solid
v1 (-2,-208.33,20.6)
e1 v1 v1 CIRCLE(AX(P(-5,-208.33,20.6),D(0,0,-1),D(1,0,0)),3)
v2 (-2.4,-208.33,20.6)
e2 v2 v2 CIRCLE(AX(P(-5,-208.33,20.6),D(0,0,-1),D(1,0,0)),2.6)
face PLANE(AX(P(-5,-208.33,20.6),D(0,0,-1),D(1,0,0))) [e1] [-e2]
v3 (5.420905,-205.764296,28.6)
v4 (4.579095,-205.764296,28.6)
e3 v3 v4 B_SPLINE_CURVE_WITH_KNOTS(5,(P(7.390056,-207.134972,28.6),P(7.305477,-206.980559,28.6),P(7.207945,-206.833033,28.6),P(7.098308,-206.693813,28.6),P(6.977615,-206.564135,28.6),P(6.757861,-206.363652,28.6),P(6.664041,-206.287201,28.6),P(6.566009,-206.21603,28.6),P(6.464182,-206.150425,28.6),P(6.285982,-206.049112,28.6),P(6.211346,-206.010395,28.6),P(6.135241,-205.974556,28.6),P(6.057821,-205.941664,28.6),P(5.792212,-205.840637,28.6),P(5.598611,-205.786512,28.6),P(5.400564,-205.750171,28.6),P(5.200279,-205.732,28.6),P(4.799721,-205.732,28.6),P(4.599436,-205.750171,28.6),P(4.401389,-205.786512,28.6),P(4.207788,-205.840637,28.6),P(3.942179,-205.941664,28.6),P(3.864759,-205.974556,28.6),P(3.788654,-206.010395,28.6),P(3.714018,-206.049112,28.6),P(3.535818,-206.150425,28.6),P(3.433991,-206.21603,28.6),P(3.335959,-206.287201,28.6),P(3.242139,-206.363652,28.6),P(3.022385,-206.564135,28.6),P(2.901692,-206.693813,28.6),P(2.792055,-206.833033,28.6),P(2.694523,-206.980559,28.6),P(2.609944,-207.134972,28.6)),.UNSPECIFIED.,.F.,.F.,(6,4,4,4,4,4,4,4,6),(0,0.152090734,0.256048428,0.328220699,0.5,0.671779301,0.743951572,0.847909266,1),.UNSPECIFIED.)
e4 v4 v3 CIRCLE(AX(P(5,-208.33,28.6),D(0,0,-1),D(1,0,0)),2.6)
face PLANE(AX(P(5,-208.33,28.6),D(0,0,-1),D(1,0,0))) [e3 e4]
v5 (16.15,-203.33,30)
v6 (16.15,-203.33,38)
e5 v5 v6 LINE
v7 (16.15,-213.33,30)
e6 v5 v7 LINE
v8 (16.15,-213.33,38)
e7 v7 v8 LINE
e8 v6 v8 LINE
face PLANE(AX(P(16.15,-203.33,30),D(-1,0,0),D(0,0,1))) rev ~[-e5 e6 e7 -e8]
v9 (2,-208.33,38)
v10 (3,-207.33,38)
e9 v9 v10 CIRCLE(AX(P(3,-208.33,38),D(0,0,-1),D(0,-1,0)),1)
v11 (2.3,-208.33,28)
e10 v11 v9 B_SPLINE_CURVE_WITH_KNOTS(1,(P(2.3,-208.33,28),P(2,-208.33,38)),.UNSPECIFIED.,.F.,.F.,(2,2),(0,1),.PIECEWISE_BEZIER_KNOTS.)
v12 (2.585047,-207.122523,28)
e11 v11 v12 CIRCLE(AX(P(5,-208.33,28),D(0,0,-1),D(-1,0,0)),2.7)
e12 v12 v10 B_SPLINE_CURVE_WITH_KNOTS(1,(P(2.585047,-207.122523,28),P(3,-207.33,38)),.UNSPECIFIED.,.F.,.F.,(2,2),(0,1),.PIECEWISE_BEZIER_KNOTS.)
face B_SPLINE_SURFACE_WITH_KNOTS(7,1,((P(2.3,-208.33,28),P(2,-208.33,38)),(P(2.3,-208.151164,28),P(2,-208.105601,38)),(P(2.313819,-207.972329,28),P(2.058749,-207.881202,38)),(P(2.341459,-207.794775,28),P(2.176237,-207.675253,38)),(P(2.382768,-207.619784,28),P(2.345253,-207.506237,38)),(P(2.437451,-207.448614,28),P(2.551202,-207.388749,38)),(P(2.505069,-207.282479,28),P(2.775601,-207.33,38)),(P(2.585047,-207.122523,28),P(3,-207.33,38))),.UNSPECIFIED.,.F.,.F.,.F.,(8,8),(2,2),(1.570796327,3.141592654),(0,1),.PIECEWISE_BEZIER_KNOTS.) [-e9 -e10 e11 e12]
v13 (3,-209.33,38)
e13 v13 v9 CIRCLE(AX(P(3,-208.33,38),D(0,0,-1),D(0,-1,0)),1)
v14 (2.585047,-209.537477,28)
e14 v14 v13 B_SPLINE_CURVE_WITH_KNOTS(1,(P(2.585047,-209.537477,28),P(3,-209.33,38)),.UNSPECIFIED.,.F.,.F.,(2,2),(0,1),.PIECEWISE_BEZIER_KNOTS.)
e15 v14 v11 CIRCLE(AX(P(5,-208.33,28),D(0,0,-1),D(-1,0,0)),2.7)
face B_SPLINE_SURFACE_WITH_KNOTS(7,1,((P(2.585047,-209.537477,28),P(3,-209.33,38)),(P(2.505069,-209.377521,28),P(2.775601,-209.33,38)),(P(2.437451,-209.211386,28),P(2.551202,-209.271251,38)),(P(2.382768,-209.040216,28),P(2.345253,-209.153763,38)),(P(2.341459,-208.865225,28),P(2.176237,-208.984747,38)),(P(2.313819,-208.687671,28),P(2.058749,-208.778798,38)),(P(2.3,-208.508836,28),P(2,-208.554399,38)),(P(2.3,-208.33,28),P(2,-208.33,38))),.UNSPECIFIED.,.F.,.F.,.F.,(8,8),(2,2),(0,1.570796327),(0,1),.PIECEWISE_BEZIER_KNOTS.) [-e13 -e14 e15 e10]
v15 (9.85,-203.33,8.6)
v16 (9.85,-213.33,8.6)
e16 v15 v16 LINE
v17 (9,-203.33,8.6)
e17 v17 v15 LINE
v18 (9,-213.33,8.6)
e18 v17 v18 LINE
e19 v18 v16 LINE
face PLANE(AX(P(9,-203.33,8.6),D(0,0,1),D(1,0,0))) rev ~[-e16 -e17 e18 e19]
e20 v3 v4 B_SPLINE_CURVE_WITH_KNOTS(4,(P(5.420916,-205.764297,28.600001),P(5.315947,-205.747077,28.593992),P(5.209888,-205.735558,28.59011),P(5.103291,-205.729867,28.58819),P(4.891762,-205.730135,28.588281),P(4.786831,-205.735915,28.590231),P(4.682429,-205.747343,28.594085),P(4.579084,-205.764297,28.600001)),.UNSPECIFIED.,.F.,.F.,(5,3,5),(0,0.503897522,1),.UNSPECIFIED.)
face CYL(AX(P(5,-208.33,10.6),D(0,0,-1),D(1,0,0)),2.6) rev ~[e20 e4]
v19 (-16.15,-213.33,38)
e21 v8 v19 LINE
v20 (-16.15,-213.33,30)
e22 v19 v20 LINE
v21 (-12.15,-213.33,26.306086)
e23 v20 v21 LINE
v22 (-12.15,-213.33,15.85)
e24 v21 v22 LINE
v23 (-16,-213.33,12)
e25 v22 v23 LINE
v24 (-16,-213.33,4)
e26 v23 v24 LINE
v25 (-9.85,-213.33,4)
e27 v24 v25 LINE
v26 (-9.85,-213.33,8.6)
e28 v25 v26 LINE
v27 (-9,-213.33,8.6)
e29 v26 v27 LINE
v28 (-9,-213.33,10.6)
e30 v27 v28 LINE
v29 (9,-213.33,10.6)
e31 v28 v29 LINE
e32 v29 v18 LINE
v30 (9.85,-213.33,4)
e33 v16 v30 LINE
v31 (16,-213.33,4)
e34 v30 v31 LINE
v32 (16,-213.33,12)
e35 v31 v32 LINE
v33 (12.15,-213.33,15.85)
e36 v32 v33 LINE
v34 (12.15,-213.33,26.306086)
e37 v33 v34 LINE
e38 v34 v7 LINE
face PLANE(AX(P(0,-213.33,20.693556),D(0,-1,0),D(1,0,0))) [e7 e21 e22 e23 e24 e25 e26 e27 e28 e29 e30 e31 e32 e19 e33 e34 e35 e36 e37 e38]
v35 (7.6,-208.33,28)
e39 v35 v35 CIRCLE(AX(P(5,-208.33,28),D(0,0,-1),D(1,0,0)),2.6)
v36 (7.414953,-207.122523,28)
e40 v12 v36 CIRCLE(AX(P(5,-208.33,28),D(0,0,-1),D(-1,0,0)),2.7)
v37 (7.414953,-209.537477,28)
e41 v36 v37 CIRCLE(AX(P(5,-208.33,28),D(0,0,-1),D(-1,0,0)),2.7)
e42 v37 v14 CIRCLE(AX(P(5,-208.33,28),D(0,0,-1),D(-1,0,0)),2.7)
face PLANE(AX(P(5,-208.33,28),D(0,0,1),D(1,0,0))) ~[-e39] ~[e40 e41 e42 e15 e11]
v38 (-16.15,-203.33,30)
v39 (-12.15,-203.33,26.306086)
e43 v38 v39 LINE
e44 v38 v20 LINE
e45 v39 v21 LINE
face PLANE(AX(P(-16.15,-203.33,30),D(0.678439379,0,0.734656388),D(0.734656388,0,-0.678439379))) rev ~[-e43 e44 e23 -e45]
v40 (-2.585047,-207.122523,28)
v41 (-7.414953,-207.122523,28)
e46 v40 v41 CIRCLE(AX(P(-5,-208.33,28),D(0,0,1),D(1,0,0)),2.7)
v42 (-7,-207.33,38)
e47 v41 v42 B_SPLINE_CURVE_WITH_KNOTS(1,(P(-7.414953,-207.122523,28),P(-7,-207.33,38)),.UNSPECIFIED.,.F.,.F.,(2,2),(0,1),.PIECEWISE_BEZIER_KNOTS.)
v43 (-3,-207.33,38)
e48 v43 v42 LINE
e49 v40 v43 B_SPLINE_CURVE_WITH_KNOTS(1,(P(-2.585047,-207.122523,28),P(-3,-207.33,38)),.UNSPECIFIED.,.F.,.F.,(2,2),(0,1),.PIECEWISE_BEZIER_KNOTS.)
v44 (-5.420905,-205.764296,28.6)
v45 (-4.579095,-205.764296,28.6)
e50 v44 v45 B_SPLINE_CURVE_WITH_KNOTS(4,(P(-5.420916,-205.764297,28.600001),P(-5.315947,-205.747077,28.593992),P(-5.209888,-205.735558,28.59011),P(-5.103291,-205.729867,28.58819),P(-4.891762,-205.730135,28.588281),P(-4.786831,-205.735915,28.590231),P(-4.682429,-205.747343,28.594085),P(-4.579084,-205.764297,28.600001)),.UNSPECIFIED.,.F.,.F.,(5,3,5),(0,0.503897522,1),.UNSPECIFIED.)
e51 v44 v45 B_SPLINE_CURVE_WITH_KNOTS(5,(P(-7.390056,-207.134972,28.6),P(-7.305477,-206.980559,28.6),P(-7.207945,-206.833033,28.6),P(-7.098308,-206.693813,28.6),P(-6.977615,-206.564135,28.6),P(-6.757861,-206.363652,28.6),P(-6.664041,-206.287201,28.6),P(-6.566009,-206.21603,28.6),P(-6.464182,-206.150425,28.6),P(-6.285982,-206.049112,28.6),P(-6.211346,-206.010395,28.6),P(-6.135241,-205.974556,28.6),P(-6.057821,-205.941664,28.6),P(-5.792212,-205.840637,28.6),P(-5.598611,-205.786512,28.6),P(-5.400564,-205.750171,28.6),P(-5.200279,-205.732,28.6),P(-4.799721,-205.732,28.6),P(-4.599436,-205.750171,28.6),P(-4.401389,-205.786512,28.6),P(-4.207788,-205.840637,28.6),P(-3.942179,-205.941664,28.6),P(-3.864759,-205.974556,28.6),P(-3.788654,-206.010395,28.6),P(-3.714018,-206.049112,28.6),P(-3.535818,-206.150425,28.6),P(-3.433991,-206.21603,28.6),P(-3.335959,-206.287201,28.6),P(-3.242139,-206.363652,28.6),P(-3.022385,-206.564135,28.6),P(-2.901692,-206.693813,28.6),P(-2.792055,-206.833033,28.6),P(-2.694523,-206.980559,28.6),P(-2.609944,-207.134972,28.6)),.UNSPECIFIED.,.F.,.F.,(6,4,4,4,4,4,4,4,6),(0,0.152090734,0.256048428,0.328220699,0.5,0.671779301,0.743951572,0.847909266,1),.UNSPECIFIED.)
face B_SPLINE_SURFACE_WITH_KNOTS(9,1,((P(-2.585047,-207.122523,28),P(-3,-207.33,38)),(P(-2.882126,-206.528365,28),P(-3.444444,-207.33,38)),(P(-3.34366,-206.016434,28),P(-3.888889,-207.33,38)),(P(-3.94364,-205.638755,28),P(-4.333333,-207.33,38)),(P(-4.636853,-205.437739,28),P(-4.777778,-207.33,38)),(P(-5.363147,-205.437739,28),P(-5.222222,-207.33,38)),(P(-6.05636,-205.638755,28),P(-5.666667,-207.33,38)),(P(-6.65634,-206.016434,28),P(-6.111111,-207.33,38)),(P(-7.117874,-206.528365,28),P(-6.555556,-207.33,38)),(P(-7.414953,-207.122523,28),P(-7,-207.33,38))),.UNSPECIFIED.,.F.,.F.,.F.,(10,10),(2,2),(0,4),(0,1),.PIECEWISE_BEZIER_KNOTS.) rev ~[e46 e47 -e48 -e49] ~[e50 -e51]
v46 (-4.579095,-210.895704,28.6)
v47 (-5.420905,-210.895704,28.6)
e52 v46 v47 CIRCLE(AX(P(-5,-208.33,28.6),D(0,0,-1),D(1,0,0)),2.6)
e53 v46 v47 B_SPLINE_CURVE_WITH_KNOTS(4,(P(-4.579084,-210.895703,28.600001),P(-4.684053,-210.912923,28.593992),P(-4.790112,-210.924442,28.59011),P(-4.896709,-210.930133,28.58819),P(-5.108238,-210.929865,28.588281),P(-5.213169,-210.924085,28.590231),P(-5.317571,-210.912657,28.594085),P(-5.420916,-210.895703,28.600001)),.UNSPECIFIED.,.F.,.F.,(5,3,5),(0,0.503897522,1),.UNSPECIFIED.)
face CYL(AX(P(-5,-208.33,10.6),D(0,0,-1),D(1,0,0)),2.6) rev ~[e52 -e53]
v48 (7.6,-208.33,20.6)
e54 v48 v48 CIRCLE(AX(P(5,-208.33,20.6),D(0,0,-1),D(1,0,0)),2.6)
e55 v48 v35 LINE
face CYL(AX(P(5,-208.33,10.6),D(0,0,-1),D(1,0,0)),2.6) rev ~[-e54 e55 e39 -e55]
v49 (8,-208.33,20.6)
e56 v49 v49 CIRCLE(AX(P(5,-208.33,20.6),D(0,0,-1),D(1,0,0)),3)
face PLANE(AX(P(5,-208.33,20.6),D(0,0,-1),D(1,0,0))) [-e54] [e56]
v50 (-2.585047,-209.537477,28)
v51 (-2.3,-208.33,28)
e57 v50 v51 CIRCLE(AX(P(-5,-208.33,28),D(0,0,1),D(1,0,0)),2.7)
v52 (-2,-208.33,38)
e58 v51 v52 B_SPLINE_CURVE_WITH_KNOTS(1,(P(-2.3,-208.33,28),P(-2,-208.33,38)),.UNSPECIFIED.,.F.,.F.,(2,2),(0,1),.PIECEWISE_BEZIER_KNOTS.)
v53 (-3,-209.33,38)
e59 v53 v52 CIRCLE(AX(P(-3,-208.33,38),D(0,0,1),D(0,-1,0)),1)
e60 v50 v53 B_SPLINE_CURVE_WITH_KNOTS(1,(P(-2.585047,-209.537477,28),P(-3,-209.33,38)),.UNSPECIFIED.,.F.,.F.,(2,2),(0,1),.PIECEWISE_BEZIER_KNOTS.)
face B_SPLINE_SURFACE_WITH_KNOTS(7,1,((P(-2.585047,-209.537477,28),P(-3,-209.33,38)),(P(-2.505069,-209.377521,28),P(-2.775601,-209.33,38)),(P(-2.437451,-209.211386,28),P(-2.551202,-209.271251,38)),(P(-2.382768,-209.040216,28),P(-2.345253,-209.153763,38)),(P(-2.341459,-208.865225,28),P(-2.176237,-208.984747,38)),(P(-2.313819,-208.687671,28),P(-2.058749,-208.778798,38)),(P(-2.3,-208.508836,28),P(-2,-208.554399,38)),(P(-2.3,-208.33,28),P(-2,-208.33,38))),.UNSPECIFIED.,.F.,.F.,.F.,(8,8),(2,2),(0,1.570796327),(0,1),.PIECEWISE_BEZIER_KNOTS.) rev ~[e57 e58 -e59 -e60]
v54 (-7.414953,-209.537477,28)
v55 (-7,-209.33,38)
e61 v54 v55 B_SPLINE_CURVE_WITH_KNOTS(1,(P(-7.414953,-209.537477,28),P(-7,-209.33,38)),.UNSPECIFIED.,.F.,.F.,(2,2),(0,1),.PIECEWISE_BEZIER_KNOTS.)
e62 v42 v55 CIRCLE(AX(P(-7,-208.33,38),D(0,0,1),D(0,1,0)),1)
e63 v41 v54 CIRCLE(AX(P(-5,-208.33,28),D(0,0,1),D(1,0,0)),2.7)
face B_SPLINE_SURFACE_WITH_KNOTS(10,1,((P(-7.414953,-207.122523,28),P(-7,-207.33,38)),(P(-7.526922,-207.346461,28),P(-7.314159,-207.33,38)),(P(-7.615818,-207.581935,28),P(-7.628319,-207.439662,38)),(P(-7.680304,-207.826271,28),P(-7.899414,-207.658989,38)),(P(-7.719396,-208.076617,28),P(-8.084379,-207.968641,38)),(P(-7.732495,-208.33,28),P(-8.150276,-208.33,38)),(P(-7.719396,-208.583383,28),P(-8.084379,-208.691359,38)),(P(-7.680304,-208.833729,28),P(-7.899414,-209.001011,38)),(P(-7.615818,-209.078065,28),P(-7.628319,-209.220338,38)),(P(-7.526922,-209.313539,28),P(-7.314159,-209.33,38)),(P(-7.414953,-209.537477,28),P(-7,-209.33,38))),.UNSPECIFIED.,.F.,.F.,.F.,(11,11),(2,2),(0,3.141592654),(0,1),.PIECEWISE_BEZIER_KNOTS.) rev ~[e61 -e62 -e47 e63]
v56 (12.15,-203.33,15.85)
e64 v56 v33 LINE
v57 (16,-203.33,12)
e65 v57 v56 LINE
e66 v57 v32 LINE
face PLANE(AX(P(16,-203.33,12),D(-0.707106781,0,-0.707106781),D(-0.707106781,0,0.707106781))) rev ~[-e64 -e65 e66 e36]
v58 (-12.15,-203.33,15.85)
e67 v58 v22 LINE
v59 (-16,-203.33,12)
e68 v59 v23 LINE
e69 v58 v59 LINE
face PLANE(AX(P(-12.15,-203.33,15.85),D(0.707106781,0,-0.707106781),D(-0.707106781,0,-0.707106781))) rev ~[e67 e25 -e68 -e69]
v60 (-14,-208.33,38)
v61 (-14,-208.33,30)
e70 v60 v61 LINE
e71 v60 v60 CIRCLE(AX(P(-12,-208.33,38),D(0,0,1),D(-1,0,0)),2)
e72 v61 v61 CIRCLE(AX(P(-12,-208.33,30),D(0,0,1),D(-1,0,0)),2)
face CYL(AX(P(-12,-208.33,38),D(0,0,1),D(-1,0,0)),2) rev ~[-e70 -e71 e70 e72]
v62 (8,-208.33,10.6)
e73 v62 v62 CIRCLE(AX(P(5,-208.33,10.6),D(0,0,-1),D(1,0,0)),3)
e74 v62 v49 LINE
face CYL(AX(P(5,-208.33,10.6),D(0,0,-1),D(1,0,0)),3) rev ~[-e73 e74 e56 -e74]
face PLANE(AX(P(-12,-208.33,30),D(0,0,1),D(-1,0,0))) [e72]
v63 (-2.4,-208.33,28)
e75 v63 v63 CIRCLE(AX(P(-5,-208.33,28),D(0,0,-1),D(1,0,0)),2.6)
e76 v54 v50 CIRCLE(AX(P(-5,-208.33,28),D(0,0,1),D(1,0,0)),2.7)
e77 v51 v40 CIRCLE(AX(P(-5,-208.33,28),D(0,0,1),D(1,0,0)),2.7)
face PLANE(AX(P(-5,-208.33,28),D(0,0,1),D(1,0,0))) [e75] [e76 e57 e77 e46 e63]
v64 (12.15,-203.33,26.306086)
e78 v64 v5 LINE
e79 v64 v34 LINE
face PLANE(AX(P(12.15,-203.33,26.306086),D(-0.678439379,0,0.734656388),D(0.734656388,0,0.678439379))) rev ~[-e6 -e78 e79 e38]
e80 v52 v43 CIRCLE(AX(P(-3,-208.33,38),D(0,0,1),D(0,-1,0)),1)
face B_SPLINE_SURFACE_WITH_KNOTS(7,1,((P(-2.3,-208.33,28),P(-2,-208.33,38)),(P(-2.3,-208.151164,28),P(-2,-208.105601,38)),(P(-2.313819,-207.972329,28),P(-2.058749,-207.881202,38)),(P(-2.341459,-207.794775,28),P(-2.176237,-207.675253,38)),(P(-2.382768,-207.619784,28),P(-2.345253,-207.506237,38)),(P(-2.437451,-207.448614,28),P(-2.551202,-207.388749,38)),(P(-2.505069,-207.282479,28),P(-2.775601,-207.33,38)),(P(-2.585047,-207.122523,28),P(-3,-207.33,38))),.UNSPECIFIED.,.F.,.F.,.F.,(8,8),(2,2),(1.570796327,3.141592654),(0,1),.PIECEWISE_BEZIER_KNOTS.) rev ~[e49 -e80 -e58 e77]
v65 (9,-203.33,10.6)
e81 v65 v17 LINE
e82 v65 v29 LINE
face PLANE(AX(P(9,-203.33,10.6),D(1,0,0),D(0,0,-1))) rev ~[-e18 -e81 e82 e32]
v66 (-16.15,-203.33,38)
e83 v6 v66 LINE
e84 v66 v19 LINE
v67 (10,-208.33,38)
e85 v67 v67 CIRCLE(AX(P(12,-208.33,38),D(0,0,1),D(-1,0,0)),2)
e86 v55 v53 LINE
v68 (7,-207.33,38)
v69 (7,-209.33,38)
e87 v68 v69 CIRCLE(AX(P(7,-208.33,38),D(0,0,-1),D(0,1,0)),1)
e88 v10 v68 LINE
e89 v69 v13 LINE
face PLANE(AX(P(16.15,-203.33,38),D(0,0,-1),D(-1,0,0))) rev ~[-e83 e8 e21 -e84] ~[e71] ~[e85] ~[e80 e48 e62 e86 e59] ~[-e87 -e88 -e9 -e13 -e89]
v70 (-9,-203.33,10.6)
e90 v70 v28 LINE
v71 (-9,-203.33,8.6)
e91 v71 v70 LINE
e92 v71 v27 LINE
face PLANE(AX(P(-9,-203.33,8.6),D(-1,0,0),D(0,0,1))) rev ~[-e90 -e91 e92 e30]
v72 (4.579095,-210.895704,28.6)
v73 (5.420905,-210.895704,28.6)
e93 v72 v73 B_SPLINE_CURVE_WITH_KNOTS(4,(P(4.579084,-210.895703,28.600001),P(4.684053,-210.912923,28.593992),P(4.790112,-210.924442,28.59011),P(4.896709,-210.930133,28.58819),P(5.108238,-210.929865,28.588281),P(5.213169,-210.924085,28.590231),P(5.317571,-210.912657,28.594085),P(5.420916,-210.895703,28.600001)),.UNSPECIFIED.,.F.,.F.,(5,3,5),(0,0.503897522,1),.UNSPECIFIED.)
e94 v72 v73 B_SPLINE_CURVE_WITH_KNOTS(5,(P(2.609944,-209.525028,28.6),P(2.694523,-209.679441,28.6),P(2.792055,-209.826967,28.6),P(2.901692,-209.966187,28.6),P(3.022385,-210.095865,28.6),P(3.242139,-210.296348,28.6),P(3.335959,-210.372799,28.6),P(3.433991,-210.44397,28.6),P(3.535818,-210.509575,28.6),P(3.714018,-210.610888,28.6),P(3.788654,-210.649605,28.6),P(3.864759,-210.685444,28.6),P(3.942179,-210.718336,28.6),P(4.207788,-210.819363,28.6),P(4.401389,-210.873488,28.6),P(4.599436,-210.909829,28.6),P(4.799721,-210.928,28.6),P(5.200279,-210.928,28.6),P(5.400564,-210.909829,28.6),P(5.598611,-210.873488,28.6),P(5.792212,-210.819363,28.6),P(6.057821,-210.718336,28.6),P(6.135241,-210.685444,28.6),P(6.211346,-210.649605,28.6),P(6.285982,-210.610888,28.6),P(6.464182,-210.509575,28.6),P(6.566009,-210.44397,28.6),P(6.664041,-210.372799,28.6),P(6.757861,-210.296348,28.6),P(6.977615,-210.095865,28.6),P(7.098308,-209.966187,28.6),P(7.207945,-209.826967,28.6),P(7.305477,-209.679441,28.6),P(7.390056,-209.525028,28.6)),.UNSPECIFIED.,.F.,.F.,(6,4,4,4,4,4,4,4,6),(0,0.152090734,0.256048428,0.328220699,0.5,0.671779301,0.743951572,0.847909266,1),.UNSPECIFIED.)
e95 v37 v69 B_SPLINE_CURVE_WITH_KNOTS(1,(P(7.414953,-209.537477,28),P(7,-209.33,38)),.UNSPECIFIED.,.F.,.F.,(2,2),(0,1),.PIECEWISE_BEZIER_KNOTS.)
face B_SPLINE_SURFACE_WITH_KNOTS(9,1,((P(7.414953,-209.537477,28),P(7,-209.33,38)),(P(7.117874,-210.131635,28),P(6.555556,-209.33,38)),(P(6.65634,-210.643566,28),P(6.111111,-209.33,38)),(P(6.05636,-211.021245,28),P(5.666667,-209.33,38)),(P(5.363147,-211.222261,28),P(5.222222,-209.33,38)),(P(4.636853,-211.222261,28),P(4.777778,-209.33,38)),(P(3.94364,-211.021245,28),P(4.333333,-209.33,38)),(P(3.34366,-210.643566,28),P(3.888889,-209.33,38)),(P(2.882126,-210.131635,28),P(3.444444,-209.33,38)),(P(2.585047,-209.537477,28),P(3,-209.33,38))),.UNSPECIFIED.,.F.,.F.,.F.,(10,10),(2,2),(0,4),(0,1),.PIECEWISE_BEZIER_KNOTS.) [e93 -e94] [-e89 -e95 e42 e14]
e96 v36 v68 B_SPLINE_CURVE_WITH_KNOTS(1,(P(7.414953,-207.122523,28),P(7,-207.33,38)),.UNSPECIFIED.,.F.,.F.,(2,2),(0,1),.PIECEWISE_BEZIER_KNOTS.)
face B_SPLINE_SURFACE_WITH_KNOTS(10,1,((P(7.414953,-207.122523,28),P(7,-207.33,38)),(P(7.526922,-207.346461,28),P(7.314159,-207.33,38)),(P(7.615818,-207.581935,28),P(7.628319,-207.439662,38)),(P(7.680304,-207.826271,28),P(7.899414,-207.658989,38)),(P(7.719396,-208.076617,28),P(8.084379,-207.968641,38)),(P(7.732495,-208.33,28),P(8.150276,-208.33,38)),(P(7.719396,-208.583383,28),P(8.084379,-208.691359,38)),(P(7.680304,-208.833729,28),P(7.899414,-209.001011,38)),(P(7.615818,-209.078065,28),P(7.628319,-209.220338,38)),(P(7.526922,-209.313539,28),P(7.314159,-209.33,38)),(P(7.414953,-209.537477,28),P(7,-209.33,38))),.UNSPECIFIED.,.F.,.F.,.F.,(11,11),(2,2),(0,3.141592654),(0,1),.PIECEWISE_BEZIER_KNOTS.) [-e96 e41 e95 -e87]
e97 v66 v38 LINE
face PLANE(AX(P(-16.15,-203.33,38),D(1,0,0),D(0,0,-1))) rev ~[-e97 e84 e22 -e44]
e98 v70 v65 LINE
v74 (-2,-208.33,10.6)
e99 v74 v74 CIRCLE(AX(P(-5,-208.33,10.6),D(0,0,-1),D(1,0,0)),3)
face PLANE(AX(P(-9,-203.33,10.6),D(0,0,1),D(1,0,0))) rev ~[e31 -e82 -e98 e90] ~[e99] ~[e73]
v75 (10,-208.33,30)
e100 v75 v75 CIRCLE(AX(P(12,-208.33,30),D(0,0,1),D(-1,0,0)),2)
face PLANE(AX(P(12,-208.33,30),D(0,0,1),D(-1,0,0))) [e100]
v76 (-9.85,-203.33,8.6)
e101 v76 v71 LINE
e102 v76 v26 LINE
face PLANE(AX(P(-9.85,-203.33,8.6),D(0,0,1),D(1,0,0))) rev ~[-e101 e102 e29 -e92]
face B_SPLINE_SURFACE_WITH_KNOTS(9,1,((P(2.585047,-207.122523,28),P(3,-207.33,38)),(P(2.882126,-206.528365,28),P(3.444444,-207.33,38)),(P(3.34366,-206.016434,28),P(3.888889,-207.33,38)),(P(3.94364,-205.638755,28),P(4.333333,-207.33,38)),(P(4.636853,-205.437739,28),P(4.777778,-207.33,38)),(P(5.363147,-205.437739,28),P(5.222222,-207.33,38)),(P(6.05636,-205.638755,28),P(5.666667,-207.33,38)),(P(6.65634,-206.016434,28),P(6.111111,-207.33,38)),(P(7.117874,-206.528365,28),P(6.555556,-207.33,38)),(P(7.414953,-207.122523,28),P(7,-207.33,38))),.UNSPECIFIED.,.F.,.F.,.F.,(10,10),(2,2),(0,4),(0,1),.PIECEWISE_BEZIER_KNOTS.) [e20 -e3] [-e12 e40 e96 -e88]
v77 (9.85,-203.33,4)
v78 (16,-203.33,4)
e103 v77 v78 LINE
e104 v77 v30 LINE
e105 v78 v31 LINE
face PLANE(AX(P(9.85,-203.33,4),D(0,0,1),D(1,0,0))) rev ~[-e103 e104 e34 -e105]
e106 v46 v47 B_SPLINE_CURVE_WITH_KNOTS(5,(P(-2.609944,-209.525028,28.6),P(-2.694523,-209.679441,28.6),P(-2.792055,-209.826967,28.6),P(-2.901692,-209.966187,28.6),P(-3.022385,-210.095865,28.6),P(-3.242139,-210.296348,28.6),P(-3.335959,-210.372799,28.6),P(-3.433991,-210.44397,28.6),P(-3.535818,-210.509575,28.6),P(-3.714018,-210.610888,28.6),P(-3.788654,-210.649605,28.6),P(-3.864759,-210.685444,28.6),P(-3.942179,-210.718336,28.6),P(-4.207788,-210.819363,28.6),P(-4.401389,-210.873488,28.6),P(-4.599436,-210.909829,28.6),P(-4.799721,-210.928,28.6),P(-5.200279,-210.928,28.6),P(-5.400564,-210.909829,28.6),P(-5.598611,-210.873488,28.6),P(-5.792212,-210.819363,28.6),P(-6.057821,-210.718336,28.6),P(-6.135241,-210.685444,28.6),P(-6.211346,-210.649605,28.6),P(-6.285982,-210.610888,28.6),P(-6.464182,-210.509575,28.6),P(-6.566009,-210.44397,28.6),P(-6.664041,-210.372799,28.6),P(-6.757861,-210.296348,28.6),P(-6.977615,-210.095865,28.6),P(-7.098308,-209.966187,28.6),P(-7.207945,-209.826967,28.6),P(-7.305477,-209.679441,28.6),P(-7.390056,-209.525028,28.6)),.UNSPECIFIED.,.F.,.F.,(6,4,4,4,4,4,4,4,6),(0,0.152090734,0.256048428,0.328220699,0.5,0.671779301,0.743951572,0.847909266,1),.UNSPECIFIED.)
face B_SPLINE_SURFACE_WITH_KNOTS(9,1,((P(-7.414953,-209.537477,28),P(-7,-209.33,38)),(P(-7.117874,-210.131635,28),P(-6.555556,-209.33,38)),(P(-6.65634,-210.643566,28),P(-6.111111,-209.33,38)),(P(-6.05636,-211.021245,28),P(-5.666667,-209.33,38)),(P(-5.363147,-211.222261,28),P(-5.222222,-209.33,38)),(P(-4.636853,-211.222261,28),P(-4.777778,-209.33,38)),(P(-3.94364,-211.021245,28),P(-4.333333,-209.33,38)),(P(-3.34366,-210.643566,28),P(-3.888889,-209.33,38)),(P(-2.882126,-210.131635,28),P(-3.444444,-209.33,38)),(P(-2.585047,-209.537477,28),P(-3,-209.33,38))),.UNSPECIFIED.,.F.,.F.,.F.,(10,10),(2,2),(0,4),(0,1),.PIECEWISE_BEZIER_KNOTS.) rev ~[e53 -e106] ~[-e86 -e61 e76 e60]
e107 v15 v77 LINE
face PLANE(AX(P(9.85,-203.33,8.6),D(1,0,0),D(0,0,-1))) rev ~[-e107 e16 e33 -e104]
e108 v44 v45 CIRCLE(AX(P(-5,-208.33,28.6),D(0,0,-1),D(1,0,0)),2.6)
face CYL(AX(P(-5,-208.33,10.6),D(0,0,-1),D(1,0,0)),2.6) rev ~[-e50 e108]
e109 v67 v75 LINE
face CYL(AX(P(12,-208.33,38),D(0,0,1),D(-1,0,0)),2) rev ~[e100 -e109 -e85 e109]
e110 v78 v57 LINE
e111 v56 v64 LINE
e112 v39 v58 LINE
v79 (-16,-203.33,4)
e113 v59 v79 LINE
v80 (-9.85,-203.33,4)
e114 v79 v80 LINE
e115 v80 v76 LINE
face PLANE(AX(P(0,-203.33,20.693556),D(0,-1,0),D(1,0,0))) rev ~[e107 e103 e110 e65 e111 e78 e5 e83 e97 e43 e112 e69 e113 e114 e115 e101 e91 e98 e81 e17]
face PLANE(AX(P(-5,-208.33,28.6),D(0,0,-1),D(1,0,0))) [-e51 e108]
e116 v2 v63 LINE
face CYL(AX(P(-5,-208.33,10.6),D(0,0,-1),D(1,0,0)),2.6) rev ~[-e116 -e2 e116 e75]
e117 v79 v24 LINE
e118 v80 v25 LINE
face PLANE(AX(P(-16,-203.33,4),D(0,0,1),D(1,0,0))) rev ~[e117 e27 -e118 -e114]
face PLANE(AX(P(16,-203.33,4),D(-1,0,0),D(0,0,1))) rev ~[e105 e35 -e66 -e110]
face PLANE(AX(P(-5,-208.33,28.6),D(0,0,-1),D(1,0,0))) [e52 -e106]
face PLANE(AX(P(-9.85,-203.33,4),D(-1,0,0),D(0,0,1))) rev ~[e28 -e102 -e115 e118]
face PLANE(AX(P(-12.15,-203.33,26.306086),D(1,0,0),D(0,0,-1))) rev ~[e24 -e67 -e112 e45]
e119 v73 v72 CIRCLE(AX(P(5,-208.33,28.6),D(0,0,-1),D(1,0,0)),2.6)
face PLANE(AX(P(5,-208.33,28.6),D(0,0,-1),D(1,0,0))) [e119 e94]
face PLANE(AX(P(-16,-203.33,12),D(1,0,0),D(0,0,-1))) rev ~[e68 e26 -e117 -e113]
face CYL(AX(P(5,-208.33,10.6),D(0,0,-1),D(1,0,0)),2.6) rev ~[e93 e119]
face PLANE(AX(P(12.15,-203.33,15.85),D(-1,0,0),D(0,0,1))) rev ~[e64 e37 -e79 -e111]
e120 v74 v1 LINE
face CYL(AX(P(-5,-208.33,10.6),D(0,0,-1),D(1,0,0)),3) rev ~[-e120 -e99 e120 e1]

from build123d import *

# Parameters (mm, degrees)
SKETCH060_R     = 2.7
PAD029_DEPTH    = 10
SKETCH057_R     = 2.6
POCKET022_DEPTH = 18
SKETCH058_R     = 3
POCKET023_DEPTH = 10
SKETCH061_R     = 2
POCKET024_DEPTH = 8


with BuildPart() as loft002:
    # Sketch060 → Loft002 section 0
    with BuildSketch(Plane.XY.offset(28)):
        with Locations((-5, 0)):
            Circle(SKETCH060_R)
    # Sketch059 → Loft002 section 1
    with BuildSketch(Plane.XY.offset(38)):
        with BuildLine():
            ThreePointArc((-7, 1), (-8, 0), (-7, -1))
            Line((-7, -1), (-3, -1))
            ThreePointArc((-3, -1), (-2, 0), (-3, 1))
            Line((-3, 1), (-7, 1))
        make_face()
    loft()


with BuildPart() as part_mirroring002:
    # Part__Mirroring002: instance of Loft002
    add(loft002.part.mirror(Plane(origin=(0, 0, 0), x_dir=(0, -1, 0), z_dir=(1, 0, 0))))


with BuildPart() as fusion002:
    # Fusion002 base: copy of Loft002
    add(loft002.part)

    # Fusion002: union Part__Mirroring002
    add(part_mirroring002.part)


with BuildPart() as sensor_holder_sun:
    # Sketch056 → Pad029 (new body)
    with BuildSketch(Plane.XZ):
        Polygon((-16, 4), (-9.85, 4), (-9.85, 7), (-9.85, 8.6), (-9, 8.6), (-9, 10.6), (9, 10.6), (9, 8.6), (9.85, 8.6), (9.85, 7), (9.85, 4), (16, 4), (16, 12), (12.15, 15.85), (12.15, 26.306086), (16.15, 30), (16.15, 38), (-16.15, 38), (-16.15, 30), (-12.15, 26.306086), (-12.15, 15.85), (-16, 12), align=None)
    extrude(amount=PAD029_DEPTH)

    # Sketch057 (on Face7 of Pad029) → Pocket022 (cut)
    with BuildSketch(Plane(origin=(0, 0, 10.6), x_dir=(1, 0, 0), z_dir=(0, 0, -1))):
        with Locations((-5, 5)):
            Circle(SKETCH057_R)
        with Locations((5, 5)):
            Circle(SKETCH057_R)
    extrude(amount=-POCKET022_DEPTH, mode=Mode.SUBTRACT)

    # Sketch058 (on Face11 of Pocket022) → Pocket023 (cut)
    with BuildSketch(Plane(origin=(0, 0, 10.6), x_dir=(1, 0, 0), z_dir=(0, 0, -1))):
        with Locations((-5, 5)):
            Circle(SKETCH058_R)
        with Locations((5, 5)):
            Circle(SKETCH058_R)
    extrude(amount=-POCKET023_DEPTH, mode=Mode.SUBTRACT)

    # Sketch061 (on Face22 of Pocket023) → Pocket024 (cut)
    with BuildSketch(Plane(origin=(0, 0, 38), x_dir=(-1, 0, 0), z_dir=(0, 0, 1))):
        with Locations((-12, 5)):
            Circle(SKETCH061_R)
        with Locations((12, 5)):
            Circle(SKETCH061_R)
    extrude(amount=-POCKET024_DEPTH, mode=Mode.SUBTRACT)


with BuildPart() as sensor_holder_sun_1:
    # Body023 placement: moved
    add(sensor_holder_sun.part.moved(Location((0, 5, 0))))

    # Cut001: cut Fusion002
    add(fusion002.part, mode=Mode.SUBTRACT)


with BuildPart() as sensor_holder_sun_2:
    # Cut001 placement: moved
    add(sensor_holder_sun_1.part.moved(Location((0, -208.33, 0))))


solid = sensor_holder_sun_2.part
